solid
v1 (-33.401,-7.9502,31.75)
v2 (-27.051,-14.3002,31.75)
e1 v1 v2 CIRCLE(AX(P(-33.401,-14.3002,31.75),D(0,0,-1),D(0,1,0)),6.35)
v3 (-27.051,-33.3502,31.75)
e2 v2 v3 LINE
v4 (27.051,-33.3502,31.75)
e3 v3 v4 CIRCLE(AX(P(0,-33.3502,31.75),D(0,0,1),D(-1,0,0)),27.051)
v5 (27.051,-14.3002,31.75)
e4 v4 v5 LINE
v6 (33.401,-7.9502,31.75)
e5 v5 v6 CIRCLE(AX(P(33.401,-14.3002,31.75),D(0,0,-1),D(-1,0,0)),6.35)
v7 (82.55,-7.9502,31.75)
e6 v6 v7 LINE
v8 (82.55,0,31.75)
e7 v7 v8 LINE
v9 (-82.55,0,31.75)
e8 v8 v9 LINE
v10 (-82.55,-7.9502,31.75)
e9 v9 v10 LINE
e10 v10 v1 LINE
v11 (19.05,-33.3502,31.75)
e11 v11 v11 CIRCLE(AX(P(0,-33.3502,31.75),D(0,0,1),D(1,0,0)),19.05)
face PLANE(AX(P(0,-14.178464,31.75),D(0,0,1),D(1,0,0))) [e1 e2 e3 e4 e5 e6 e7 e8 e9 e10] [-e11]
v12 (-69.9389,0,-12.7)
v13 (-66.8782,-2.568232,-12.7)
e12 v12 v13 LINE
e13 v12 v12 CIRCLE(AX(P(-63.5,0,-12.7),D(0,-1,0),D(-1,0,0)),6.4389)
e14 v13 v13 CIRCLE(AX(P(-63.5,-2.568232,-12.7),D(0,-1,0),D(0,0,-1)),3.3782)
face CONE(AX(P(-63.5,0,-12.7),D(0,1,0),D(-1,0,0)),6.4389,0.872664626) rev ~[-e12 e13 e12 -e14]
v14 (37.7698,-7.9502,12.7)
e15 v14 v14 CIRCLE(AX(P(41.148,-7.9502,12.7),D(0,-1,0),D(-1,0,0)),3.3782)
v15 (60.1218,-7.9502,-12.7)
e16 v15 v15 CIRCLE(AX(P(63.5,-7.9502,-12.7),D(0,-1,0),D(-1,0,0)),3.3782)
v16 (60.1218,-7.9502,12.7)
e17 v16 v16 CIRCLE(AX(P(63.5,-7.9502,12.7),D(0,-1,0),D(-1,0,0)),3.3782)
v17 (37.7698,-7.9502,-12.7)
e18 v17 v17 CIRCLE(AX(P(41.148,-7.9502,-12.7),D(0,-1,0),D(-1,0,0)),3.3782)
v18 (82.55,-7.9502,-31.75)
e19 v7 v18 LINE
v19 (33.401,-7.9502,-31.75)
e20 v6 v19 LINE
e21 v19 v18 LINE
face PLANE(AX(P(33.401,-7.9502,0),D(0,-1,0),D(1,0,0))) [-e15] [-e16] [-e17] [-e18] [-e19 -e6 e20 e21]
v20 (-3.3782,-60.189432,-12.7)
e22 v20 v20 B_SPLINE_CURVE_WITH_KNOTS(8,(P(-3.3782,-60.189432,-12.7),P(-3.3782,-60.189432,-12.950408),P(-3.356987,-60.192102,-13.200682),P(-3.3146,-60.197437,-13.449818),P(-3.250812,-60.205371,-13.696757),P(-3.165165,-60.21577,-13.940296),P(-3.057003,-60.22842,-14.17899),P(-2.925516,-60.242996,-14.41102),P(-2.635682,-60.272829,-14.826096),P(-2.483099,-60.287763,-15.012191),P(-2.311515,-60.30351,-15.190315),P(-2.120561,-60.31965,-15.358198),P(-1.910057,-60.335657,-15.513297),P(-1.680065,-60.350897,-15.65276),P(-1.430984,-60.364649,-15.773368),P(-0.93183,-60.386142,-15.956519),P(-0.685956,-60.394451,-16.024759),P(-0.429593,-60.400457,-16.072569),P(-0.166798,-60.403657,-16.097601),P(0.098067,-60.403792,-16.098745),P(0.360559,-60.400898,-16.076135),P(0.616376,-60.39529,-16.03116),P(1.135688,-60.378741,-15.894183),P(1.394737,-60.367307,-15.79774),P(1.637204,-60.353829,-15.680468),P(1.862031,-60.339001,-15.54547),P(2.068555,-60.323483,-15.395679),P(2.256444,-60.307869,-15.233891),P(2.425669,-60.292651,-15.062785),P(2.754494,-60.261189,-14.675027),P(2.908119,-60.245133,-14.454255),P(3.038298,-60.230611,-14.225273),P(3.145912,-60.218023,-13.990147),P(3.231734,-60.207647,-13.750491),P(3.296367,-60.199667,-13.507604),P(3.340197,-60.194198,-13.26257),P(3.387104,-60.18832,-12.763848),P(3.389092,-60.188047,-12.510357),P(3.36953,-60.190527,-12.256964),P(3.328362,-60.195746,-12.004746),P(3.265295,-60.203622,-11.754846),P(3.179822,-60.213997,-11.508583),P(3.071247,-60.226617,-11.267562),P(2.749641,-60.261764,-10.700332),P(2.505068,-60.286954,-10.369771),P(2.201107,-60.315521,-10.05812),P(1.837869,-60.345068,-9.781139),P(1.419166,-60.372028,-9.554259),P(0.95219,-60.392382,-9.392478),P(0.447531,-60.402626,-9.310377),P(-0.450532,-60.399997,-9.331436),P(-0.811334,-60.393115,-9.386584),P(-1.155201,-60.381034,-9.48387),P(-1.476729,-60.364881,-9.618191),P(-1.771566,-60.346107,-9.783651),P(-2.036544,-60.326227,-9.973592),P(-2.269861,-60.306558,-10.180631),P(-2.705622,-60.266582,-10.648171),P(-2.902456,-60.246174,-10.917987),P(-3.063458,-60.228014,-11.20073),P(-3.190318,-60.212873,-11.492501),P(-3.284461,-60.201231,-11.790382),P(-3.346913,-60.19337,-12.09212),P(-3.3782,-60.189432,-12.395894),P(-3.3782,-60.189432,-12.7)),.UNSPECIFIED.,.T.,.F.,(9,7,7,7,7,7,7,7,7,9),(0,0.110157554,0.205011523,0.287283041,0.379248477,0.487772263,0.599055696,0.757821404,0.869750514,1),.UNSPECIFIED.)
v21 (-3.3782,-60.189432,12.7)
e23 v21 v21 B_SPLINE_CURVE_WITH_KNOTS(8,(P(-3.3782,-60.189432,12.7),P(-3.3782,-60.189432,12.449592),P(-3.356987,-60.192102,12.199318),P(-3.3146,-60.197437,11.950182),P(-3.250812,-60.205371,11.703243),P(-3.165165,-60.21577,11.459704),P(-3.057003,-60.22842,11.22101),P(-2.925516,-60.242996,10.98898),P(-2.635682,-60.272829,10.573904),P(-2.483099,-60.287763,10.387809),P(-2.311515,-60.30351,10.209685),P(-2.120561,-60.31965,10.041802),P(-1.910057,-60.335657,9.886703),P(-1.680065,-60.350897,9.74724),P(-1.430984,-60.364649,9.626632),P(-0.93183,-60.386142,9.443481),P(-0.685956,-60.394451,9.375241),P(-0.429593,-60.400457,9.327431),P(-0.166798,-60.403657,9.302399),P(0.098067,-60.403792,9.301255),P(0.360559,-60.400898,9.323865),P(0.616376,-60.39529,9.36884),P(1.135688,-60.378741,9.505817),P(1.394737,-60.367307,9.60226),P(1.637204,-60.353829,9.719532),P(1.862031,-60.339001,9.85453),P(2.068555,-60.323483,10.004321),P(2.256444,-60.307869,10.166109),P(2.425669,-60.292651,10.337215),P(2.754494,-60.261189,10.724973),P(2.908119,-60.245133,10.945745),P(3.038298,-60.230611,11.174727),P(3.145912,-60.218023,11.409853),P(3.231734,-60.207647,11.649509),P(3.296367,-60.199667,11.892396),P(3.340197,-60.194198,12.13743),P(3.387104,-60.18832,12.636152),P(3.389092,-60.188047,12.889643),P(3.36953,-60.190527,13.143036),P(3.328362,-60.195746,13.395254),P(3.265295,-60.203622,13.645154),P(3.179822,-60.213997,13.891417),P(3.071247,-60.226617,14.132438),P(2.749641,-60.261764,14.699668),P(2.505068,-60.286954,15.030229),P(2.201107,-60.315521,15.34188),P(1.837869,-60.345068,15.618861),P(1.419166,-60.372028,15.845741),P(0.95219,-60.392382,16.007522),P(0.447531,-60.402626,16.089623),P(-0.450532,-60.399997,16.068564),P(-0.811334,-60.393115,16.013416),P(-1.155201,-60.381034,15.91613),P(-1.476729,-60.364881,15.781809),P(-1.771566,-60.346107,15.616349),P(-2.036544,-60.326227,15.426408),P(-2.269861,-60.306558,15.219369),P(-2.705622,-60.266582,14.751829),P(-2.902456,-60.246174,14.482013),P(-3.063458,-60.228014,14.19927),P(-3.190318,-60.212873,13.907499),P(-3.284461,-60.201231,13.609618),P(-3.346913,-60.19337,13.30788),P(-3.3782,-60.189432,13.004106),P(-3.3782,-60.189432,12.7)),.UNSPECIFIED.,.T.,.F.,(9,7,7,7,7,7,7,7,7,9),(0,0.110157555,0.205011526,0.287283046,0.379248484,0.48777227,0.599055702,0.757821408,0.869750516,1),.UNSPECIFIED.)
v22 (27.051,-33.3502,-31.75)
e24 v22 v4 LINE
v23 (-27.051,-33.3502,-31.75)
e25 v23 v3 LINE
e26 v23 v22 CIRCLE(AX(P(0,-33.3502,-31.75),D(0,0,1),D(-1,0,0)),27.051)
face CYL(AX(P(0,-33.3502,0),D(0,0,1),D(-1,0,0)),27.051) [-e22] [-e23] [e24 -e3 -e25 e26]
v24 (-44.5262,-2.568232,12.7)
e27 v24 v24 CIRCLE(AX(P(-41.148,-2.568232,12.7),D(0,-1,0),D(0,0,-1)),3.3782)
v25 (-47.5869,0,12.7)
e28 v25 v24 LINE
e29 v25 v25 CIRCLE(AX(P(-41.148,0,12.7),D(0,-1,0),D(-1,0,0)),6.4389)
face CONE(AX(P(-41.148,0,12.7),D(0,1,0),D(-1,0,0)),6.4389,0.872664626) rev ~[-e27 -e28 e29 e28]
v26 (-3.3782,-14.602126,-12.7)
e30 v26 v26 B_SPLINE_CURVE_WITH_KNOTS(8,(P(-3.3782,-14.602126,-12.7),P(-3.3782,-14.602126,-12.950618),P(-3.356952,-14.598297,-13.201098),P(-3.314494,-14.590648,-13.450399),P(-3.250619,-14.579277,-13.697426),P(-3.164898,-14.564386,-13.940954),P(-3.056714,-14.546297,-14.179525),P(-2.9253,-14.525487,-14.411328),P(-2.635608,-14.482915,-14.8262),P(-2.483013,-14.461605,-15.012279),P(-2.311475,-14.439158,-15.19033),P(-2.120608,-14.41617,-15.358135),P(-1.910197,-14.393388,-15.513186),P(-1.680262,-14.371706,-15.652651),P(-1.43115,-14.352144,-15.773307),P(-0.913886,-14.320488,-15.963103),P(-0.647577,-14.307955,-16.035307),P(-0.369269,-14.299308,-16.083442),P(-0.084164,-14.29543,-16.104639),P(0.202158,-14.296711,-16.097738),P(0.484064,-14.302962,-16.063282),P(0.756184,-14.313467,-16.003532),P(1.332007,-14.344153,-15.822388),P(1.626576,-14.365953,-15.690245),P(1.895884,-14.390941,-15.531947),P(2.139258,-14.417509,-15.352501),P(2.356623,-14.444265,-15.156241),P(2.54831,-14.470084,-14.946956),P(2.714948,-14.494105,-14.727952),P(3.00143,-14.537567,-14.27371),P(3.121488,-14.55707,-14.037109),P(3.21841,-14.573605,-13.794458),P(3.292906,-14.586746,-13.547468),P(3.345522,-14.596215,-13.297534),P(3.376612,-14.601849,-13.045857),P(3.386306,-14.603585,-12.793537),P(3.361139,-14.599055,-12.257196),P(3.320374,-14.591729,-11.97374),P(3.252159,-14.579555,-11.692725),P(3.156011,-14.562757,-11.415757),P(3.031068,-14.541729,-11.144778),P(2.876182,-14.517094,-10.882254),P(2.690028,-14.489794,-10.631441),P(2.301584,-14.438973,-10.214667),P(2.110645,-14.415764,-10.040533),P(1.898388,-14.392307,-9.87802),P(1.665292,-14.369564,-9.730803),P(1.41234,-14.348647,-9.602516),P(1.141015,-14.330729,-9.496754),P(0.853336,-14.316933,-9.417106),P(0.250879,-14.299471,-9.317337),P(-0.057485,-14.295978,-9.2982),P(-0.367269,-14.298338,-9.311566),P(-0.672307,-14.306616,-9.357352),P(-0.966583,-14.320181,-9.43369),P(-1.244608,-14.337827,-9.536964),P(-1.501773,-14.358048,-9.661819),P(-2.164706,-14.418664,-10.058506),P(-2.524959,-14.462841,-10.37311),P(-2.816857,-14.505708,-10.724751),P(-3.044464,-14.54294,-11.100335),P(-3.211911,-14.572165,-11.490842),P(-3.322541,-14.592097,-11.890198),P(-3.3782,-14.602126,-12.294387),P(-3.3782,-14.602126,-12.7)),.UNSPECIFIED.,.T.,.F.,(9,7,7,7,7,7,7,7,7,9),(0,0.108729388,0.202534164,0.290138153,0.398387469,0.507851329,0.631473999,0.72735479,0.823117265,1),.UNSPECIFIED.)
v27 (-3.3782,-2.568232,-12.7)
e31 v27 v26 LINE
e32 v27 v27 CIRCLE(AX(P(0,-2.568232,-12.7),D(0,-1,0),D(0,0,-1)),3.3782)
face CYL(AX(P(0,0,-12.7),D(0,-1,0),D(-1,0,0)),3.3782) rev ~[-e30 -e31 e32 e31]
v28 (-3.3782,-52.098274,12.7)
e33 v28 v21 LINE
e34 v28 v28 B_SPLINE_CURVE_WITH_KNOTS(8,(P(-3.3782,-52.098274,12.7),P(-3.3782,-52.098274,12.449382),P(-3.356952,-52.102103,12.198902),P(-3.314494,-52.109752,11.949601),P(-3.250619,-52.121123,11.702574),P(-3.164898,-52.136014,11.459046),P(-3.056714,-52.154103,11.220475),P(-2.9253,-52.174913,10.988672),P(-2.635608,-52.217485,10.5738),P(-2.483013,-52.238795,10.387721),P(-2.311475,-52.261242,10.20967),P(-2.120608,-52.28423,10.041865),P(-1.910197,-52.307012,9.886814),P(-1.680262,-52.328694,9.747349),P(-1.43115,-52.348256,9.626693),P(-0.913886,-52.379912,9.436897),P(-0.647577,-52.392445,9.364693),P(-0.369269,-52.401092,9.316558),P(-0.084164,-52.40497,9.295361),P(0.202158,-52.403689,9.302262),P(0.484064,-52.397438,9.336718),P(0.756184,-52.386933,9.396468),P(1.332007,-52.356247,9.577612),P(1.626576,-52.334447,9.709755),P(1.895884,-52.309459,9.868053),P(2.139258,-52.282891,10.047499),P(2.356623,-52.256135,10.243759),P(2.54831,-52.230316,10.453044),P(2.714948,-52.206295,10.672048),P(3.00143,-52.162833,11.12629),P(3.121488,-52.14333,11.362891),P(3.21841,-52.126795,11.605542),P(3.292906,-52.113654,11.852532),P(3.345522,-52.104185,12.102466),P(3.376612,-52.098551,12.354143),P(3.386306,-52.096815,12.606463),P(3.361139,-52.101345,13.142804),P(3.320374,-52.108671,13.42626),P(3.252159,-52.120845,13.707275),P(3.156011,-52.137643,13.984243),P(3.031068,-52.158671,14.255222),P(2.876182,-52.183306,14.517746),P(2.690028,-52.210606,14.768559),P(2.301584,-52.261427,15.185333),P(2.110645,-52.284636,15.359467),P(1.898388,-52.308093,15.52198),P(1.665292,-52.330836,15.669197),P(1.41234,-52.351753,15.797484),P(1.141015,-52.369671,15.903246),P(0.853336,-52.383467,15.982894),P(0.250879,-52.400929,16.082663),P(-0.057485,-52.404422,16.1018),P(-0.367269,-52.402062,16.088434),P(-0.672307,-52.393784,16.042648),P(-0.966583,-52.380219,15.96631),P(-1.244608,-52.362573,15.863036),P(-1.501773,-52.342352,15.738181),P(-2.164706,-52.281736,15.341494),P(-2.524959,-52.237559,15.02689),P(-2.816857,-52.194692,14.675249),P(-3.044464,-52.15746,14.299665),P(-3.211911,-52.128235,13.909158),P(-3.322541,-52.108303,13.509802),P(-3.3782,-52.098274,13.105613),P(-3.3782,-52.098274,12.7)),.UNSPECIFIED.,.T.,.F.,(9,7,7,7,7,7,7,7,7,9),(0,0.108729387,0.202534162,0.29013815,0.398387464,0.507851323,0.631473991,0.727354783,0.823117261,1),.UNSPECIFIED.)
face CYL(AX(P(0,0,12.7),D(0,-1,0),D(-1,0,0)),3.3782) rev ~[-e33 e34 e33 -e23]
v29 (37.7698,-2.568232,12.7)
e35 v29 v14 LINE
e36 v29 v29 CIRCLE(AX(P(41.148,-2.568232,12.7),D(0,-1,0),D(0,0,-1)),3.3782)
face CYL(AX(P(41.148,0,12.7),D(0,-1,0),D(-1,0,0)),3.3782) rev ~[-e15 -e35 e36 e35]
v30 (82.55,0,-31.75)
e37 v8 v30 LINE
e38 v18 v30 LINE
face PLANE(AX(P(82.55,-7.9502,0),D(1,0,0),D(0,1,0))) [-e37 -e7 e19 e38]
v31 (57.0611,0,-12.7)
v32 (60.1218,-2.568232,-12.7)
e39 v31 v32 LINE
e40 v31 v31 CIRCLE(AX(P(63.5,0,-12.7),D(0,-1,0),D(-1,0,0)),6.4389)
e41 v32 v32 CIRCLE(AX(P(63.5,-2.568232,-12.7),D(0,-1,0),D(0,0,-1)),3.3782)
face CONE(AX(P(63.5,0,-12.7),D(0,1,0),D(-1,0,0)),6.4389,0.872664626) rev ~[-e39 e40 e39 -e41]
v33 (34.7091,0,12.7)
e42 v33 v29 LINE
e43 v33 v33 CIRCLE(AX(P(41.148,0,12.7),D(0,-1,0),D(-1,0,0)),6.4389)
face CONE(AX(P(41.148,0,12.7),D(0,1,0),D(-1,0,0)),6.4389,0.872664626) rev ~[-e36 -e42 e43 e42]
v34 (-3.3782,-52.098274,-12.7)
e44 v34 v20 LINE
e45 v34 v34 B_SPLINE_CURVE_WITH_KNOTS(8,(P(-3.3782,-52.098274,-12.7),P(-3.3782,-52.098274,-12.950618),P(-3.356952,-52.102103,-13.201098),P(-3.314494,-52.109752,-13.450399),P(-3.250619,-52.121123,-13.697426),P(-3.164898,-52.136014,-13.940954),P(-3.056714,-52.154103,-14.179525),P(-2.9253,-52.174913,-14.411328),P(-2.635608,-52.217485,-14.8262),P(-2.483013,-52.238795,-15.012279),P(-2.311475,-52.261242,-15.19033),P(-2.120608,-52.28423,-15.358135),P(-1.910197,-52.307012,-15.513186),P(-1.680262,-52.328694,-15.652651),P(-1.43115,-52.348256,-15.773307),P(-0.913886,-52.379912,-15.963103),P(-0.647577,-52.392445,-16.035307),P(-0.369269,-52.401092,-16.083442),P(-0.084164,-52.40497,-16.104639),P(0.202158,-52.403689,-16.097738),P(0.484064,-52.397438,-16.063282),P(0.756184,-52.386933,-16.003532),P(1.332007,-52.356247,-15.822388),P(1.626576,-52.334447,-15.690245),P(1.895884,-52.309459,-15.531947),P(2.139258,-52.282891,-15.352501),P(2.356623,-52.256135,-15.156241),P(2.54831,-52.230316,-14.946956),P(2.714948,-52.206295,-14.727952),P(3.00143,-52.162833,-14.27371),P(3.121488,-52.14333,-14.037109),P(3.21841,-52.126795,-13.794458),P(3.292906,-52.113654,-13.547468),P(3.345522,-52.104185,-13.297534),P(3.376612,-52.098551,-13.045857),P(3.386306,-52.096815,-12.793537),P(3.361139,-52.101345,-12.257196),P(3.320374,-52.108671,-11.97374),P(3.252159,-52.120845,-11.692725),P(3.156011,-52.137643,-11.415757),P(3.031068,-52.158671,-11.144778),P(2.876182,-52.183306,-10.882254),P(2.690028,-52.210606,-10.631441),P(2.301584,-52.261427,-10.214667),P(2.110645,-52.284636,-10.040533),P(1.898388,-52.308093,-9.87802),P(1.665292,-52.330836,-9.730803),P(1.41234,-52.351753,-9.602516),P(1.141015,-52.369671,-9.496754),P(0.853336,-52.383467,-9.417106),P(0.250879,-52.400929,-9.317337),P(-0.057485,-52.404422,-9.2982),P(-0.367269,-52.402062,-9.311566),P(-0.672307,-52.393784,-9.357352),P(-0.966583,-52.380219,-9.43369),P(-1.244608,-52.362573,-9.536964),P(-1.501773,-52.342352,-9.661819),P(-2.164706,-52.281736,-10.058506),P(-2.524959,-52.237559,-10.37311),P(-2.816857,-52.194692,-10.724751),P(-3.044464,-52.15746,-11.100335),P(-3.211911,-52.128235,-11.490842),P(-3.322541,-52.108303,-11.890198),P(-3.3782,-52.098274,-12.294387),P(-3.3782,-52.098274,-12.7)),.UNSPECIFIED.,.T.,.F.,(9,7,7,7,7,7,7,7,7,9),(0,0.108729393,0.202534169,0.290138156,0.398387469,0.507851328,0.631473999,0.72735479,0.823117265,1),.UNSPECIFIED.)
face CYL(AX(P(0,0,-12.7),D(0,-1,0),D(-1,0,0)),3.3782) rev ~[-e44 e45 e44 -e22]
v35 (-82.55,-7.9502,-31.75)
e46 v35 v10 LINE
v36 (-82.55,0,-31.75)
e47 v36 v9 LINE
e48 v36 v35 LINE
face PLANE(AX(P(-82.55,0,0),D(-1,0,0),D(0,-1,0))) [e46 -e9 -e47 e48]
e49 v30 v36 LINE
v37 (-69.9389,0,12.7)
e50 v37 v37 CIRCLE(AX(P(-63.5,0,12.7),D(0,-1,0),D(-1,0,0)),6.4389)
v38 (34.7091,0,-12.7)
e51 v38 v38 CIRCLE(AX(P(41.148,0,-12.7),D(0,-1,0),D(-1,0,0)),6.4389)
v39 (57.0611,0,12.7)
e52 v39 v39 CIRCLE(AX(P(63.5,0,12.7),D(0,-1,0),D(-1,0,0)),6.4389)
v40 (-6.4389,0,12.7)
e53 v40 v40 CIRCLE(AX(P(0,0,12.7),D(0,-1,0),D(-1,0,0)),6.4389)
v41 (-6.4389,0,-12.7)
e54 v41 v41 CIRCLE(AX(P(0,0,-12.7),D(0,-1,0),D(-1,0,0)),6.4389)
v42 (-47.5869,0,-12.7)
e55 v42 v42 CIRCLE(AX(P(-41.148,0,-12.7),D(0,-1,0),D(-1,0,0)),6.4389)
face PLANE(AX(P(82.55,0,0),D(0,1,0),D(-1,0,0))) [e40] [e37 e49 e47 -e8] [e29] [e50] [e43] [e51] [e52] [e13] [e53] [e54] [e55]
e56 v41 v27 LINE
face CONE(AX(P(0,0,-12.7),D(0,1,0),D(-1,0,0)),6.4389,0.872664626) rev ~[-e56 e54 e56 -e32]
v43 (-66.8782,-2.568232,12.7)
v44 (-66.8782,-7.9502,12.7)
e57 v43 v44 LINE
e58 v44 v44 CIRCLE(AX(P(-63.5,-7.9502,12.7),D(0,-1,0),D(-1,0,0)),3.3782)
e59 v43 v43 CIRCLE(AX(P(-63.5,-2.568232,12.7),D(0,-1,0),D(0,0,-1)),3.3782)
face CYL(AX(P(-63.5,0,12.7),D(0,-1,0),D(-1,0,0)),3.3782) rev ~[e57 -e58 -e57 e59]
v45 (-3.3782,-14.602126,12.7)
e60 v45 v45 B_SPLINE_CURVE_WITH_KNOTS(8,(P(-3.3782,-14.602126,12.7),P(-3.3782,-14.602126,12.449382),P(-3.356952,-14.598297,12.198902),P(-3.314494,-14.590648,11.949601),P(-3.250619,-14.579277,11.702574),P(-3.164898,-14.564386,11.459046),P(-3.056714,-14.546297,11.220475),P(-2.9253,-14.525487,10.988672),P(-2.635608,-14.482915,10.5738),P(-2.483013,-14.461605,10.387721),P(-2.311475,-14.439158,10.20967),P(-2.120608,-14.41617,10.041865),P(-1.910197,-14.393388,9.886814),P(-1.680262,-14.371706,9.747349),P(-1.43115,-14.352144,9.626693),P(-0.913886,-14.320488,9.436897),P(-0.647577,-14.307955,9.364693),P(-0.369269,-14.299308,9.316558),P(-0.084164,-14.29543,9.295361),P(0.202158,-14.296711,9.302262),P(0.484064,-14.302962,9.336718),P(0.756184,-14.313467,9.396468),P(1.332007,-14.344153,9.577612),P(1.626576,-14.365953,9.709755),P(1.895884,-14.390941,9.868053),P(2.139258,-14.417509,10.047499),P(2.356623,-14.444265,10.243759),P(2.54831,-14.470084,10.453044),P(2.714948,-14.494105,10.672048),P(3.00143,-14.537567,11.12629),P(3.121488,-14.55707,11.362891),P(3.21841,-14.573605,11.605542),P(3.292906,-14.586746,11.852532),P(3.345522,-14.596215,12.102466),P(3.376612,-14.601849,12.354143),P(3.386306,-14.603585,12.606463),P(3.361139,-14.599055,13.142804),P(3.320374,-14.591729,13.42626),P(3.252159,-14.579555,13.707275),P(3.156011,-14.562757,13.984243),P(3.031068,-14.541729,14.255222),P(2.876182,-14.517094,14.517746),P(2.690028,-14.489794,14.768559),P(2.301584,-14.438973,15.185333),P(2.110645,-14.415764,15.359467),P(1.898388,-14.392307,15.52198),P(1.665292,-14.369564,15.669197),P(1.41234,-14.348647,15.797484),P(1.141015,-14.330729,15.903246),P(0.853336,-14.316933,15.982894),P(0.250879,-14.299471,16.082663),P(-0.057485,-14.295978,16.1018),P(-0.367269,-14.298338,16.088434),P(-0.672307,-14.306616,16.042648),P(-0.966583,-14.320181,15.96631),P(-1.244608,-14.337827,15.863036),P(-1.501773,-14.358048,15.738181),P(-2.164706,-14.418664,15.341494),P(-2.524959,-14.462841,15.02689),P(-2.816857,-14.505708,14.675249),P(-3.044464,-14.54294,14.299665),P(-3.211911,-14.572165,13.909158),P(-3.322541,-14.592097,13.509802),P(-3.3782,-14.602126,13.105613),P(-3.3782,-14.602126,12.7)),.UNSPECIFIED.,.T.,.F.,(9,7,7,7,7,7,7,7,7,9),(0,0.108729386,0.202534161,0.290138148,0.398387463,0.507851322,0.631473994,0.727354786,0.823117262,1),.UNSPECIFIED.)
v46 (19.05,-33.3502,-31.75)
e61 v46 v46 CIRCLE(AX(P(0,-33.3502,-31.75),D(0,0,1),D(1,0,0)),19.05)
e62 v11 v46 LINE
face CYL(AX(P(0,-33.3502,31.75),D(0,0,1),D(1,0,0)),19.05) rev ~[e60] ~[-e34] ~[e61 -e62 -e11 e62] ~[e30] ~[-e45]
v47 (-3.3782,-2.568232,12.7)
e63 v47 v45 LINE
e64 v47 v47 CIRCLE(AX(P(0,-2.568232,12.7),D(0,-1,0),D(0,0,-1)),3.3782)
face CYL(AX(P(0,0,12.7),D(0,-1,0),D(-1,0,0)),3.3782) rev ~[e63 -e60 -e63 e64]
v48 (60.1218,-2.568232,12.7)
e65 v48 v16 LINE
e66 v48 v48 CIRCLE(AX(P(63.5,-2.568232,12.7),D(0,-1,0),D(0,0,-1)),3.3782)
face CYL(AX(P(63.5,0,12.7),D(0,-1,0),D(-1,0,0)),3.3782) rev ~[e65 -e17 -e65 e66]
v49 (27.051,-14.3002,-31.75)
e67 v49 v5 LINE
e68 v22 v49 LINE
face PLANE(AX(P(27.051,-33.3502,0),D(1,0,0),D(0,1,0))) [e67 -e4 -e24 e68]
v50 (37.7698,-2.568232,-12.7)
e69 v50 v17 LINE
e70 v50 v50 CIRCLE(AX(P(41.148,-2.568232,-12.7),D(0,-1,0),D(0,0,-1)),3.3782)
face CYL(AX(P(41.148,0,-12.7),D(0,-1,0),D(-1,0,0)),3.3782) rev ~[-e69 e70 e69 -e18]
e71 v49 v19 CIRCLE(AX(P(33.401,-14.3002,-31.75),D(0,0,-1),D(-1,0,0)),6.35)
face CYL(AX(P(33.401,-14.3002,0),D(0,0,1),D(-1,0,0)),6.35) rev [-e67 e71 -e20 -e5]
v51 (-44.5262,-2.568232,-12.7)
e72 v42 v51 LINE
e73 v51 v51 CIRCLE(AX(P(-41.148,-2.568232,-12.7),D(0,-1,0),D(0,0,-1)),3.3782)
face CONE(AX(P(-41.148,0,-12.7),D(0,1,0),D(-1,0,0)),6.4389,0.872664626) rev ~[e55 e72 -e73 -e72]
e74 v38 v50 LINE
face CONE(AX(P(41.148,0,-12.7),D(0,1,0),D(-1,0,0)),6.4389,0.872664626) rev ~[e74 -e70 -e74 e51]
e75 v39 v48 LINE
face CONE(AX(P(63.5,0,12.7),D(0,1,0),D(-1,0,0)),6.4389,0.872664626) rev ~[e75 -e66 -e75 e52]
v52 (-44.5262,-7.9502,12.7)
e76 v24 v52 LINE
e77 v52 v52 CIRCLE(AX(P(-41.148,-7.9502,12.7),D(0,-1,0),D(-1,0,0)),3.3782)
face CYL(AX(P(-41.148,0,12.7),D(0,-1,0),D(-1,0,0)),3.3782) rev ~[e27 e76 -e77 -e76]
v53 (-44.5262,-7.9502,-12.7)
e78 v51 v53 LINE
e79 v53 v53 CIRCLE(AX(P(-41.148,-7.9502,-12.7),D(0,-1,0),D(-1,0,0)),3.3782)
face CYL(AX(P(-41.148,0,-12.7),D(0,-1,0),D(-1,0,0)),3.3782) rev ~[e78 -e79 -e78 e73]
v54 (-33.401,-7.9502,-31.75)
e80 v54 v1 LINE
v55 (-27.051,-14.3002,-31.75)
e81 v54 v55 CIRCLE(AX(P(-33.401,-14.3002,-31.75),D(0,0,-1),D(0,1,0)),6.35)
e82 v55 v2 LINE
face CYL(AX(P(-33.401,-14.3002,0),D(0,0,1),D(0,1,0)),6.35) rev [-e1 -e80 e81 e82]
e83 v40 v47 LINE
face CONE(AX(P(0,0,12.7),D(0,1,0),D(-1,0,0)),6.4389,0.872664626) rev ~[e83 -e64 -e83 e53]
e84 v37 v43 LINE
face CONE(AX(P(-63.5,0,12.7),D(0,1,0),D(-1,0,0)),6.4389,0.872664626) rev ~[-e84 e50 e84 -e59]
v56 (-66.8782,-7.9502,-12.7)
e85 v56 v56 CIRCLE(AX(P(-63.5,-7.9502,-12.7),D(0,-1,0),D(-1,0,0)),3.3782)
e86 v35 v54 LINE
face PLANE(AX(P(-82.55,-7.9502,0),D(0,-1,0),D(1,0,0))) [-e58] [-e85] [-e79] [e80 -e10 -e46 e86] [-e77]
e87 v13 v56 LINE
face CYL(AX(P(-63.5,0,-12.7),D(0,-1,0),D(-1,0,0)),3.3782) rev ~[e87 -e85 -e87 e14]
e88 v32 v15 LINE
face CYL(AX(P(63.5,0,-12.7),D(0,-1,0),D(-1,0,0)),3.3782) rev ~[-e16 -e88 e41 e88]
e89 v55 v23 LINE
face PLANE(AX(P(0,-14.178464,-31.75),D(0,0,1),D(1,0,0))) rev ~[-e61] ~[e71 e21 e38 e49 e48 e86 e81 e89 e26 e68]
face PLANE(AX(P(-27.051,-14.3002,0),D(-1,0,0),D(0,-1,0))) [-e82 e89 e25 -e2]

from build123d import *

# Parameters (mm, degrees)
BOSS_EXTRUDE1_DEPTH                                 = 31.75
SKETCH3_R                                           = 19.05
CUT_EXTRUDE1_DEPTH                                  = 64.5
CSK_FOR_1_4_FLAT_HEAD_MACHINE_SCREW_100_D           = 6.7564
CSK_FOR_1_4_FLAT_HEAD_MACHINE_SCREW_100_CSINK_D     = 12.8778
CSK_FOR_1_4_FLAT_HEAD_MACHINE_SCREW_100_CSINK_ANGLE = 100


with BuildPart() as part:
    # Sketch2 → Boss-Extrude1 (new body, symmetric)
    with BuildSketch(Plane.XY):
        with BuildLine():
            Line((82.55, 0), (-82.55, 0))
            Line((-82.55, 0), (-82.55, -7.9502))
            Line((-82.55, -7.9502), (-33.401, -7.9502))
            ThreePointArc((-33.401, -7.9502), (-28.910871939, -9.810071939), (-27.051, -14.3002))
            Line((-27.051, -14.3002), (-27.051, -33.3502))
            ThreePointArc((-27.051, -33.3502), (0, -60.4012), (27.051, -33.3502))
            Line((27.051, -33.3502), (27.051, -14.3002))
            ThreePointArc((27.051, -14.3002), (28.910871939, -9.810071939), (33.401, -7.9502))
            Line((33.401, -7.9502), (82.55, -7.9502))
            Line((82.55, -7.9502), (82.55, 0))
        make_face()
    extrude(amount=BOSS_EXTRUDE1_DEPTH, both=True)

    # Sketch3 → Cut-Extrude1 (cut, through all)
    with BuildSketch(Plane.XY.offset(31.75)):
        with Locations((0, -33.3502)):
            Circle(SKETCH3_R)
    extrude(amount=-CUT_EXTRUDE1_DEPTH, mode=Mode.SUBTRACT)

    # CSK for 1/4 Flat Head Machine Screw (100)2 (through all)
    with Locations(Plane(origin=(0, 0, 0), x_dir=(1, 0, 0), z_dir=(0, 1, 0))):
        with Locations((0, -12.7), (41.148, -12.7), (63.5, -12.7), (-41.148, -12.7), (-63.5, -12.7), (-41.148, 12.7), (-63.5, 12.7), (0, 12.7), (41.148, 12.7), (63.5, 12.7)):
            CounterSinkHole(CSK_FOR_1_4_FLAT_HEAD_MACHINE_SCREW_100_D / 2, CSK_FOR_1_4_FLAT_HEAD_MACHINE_SCREW_100_CSINK_D / 2, counter_sink_angle=CSK_FOR_1_4_FLAT_HEAD_MACHINE_SCREW_100_CSINK_ANGLE)


solid = part.part
